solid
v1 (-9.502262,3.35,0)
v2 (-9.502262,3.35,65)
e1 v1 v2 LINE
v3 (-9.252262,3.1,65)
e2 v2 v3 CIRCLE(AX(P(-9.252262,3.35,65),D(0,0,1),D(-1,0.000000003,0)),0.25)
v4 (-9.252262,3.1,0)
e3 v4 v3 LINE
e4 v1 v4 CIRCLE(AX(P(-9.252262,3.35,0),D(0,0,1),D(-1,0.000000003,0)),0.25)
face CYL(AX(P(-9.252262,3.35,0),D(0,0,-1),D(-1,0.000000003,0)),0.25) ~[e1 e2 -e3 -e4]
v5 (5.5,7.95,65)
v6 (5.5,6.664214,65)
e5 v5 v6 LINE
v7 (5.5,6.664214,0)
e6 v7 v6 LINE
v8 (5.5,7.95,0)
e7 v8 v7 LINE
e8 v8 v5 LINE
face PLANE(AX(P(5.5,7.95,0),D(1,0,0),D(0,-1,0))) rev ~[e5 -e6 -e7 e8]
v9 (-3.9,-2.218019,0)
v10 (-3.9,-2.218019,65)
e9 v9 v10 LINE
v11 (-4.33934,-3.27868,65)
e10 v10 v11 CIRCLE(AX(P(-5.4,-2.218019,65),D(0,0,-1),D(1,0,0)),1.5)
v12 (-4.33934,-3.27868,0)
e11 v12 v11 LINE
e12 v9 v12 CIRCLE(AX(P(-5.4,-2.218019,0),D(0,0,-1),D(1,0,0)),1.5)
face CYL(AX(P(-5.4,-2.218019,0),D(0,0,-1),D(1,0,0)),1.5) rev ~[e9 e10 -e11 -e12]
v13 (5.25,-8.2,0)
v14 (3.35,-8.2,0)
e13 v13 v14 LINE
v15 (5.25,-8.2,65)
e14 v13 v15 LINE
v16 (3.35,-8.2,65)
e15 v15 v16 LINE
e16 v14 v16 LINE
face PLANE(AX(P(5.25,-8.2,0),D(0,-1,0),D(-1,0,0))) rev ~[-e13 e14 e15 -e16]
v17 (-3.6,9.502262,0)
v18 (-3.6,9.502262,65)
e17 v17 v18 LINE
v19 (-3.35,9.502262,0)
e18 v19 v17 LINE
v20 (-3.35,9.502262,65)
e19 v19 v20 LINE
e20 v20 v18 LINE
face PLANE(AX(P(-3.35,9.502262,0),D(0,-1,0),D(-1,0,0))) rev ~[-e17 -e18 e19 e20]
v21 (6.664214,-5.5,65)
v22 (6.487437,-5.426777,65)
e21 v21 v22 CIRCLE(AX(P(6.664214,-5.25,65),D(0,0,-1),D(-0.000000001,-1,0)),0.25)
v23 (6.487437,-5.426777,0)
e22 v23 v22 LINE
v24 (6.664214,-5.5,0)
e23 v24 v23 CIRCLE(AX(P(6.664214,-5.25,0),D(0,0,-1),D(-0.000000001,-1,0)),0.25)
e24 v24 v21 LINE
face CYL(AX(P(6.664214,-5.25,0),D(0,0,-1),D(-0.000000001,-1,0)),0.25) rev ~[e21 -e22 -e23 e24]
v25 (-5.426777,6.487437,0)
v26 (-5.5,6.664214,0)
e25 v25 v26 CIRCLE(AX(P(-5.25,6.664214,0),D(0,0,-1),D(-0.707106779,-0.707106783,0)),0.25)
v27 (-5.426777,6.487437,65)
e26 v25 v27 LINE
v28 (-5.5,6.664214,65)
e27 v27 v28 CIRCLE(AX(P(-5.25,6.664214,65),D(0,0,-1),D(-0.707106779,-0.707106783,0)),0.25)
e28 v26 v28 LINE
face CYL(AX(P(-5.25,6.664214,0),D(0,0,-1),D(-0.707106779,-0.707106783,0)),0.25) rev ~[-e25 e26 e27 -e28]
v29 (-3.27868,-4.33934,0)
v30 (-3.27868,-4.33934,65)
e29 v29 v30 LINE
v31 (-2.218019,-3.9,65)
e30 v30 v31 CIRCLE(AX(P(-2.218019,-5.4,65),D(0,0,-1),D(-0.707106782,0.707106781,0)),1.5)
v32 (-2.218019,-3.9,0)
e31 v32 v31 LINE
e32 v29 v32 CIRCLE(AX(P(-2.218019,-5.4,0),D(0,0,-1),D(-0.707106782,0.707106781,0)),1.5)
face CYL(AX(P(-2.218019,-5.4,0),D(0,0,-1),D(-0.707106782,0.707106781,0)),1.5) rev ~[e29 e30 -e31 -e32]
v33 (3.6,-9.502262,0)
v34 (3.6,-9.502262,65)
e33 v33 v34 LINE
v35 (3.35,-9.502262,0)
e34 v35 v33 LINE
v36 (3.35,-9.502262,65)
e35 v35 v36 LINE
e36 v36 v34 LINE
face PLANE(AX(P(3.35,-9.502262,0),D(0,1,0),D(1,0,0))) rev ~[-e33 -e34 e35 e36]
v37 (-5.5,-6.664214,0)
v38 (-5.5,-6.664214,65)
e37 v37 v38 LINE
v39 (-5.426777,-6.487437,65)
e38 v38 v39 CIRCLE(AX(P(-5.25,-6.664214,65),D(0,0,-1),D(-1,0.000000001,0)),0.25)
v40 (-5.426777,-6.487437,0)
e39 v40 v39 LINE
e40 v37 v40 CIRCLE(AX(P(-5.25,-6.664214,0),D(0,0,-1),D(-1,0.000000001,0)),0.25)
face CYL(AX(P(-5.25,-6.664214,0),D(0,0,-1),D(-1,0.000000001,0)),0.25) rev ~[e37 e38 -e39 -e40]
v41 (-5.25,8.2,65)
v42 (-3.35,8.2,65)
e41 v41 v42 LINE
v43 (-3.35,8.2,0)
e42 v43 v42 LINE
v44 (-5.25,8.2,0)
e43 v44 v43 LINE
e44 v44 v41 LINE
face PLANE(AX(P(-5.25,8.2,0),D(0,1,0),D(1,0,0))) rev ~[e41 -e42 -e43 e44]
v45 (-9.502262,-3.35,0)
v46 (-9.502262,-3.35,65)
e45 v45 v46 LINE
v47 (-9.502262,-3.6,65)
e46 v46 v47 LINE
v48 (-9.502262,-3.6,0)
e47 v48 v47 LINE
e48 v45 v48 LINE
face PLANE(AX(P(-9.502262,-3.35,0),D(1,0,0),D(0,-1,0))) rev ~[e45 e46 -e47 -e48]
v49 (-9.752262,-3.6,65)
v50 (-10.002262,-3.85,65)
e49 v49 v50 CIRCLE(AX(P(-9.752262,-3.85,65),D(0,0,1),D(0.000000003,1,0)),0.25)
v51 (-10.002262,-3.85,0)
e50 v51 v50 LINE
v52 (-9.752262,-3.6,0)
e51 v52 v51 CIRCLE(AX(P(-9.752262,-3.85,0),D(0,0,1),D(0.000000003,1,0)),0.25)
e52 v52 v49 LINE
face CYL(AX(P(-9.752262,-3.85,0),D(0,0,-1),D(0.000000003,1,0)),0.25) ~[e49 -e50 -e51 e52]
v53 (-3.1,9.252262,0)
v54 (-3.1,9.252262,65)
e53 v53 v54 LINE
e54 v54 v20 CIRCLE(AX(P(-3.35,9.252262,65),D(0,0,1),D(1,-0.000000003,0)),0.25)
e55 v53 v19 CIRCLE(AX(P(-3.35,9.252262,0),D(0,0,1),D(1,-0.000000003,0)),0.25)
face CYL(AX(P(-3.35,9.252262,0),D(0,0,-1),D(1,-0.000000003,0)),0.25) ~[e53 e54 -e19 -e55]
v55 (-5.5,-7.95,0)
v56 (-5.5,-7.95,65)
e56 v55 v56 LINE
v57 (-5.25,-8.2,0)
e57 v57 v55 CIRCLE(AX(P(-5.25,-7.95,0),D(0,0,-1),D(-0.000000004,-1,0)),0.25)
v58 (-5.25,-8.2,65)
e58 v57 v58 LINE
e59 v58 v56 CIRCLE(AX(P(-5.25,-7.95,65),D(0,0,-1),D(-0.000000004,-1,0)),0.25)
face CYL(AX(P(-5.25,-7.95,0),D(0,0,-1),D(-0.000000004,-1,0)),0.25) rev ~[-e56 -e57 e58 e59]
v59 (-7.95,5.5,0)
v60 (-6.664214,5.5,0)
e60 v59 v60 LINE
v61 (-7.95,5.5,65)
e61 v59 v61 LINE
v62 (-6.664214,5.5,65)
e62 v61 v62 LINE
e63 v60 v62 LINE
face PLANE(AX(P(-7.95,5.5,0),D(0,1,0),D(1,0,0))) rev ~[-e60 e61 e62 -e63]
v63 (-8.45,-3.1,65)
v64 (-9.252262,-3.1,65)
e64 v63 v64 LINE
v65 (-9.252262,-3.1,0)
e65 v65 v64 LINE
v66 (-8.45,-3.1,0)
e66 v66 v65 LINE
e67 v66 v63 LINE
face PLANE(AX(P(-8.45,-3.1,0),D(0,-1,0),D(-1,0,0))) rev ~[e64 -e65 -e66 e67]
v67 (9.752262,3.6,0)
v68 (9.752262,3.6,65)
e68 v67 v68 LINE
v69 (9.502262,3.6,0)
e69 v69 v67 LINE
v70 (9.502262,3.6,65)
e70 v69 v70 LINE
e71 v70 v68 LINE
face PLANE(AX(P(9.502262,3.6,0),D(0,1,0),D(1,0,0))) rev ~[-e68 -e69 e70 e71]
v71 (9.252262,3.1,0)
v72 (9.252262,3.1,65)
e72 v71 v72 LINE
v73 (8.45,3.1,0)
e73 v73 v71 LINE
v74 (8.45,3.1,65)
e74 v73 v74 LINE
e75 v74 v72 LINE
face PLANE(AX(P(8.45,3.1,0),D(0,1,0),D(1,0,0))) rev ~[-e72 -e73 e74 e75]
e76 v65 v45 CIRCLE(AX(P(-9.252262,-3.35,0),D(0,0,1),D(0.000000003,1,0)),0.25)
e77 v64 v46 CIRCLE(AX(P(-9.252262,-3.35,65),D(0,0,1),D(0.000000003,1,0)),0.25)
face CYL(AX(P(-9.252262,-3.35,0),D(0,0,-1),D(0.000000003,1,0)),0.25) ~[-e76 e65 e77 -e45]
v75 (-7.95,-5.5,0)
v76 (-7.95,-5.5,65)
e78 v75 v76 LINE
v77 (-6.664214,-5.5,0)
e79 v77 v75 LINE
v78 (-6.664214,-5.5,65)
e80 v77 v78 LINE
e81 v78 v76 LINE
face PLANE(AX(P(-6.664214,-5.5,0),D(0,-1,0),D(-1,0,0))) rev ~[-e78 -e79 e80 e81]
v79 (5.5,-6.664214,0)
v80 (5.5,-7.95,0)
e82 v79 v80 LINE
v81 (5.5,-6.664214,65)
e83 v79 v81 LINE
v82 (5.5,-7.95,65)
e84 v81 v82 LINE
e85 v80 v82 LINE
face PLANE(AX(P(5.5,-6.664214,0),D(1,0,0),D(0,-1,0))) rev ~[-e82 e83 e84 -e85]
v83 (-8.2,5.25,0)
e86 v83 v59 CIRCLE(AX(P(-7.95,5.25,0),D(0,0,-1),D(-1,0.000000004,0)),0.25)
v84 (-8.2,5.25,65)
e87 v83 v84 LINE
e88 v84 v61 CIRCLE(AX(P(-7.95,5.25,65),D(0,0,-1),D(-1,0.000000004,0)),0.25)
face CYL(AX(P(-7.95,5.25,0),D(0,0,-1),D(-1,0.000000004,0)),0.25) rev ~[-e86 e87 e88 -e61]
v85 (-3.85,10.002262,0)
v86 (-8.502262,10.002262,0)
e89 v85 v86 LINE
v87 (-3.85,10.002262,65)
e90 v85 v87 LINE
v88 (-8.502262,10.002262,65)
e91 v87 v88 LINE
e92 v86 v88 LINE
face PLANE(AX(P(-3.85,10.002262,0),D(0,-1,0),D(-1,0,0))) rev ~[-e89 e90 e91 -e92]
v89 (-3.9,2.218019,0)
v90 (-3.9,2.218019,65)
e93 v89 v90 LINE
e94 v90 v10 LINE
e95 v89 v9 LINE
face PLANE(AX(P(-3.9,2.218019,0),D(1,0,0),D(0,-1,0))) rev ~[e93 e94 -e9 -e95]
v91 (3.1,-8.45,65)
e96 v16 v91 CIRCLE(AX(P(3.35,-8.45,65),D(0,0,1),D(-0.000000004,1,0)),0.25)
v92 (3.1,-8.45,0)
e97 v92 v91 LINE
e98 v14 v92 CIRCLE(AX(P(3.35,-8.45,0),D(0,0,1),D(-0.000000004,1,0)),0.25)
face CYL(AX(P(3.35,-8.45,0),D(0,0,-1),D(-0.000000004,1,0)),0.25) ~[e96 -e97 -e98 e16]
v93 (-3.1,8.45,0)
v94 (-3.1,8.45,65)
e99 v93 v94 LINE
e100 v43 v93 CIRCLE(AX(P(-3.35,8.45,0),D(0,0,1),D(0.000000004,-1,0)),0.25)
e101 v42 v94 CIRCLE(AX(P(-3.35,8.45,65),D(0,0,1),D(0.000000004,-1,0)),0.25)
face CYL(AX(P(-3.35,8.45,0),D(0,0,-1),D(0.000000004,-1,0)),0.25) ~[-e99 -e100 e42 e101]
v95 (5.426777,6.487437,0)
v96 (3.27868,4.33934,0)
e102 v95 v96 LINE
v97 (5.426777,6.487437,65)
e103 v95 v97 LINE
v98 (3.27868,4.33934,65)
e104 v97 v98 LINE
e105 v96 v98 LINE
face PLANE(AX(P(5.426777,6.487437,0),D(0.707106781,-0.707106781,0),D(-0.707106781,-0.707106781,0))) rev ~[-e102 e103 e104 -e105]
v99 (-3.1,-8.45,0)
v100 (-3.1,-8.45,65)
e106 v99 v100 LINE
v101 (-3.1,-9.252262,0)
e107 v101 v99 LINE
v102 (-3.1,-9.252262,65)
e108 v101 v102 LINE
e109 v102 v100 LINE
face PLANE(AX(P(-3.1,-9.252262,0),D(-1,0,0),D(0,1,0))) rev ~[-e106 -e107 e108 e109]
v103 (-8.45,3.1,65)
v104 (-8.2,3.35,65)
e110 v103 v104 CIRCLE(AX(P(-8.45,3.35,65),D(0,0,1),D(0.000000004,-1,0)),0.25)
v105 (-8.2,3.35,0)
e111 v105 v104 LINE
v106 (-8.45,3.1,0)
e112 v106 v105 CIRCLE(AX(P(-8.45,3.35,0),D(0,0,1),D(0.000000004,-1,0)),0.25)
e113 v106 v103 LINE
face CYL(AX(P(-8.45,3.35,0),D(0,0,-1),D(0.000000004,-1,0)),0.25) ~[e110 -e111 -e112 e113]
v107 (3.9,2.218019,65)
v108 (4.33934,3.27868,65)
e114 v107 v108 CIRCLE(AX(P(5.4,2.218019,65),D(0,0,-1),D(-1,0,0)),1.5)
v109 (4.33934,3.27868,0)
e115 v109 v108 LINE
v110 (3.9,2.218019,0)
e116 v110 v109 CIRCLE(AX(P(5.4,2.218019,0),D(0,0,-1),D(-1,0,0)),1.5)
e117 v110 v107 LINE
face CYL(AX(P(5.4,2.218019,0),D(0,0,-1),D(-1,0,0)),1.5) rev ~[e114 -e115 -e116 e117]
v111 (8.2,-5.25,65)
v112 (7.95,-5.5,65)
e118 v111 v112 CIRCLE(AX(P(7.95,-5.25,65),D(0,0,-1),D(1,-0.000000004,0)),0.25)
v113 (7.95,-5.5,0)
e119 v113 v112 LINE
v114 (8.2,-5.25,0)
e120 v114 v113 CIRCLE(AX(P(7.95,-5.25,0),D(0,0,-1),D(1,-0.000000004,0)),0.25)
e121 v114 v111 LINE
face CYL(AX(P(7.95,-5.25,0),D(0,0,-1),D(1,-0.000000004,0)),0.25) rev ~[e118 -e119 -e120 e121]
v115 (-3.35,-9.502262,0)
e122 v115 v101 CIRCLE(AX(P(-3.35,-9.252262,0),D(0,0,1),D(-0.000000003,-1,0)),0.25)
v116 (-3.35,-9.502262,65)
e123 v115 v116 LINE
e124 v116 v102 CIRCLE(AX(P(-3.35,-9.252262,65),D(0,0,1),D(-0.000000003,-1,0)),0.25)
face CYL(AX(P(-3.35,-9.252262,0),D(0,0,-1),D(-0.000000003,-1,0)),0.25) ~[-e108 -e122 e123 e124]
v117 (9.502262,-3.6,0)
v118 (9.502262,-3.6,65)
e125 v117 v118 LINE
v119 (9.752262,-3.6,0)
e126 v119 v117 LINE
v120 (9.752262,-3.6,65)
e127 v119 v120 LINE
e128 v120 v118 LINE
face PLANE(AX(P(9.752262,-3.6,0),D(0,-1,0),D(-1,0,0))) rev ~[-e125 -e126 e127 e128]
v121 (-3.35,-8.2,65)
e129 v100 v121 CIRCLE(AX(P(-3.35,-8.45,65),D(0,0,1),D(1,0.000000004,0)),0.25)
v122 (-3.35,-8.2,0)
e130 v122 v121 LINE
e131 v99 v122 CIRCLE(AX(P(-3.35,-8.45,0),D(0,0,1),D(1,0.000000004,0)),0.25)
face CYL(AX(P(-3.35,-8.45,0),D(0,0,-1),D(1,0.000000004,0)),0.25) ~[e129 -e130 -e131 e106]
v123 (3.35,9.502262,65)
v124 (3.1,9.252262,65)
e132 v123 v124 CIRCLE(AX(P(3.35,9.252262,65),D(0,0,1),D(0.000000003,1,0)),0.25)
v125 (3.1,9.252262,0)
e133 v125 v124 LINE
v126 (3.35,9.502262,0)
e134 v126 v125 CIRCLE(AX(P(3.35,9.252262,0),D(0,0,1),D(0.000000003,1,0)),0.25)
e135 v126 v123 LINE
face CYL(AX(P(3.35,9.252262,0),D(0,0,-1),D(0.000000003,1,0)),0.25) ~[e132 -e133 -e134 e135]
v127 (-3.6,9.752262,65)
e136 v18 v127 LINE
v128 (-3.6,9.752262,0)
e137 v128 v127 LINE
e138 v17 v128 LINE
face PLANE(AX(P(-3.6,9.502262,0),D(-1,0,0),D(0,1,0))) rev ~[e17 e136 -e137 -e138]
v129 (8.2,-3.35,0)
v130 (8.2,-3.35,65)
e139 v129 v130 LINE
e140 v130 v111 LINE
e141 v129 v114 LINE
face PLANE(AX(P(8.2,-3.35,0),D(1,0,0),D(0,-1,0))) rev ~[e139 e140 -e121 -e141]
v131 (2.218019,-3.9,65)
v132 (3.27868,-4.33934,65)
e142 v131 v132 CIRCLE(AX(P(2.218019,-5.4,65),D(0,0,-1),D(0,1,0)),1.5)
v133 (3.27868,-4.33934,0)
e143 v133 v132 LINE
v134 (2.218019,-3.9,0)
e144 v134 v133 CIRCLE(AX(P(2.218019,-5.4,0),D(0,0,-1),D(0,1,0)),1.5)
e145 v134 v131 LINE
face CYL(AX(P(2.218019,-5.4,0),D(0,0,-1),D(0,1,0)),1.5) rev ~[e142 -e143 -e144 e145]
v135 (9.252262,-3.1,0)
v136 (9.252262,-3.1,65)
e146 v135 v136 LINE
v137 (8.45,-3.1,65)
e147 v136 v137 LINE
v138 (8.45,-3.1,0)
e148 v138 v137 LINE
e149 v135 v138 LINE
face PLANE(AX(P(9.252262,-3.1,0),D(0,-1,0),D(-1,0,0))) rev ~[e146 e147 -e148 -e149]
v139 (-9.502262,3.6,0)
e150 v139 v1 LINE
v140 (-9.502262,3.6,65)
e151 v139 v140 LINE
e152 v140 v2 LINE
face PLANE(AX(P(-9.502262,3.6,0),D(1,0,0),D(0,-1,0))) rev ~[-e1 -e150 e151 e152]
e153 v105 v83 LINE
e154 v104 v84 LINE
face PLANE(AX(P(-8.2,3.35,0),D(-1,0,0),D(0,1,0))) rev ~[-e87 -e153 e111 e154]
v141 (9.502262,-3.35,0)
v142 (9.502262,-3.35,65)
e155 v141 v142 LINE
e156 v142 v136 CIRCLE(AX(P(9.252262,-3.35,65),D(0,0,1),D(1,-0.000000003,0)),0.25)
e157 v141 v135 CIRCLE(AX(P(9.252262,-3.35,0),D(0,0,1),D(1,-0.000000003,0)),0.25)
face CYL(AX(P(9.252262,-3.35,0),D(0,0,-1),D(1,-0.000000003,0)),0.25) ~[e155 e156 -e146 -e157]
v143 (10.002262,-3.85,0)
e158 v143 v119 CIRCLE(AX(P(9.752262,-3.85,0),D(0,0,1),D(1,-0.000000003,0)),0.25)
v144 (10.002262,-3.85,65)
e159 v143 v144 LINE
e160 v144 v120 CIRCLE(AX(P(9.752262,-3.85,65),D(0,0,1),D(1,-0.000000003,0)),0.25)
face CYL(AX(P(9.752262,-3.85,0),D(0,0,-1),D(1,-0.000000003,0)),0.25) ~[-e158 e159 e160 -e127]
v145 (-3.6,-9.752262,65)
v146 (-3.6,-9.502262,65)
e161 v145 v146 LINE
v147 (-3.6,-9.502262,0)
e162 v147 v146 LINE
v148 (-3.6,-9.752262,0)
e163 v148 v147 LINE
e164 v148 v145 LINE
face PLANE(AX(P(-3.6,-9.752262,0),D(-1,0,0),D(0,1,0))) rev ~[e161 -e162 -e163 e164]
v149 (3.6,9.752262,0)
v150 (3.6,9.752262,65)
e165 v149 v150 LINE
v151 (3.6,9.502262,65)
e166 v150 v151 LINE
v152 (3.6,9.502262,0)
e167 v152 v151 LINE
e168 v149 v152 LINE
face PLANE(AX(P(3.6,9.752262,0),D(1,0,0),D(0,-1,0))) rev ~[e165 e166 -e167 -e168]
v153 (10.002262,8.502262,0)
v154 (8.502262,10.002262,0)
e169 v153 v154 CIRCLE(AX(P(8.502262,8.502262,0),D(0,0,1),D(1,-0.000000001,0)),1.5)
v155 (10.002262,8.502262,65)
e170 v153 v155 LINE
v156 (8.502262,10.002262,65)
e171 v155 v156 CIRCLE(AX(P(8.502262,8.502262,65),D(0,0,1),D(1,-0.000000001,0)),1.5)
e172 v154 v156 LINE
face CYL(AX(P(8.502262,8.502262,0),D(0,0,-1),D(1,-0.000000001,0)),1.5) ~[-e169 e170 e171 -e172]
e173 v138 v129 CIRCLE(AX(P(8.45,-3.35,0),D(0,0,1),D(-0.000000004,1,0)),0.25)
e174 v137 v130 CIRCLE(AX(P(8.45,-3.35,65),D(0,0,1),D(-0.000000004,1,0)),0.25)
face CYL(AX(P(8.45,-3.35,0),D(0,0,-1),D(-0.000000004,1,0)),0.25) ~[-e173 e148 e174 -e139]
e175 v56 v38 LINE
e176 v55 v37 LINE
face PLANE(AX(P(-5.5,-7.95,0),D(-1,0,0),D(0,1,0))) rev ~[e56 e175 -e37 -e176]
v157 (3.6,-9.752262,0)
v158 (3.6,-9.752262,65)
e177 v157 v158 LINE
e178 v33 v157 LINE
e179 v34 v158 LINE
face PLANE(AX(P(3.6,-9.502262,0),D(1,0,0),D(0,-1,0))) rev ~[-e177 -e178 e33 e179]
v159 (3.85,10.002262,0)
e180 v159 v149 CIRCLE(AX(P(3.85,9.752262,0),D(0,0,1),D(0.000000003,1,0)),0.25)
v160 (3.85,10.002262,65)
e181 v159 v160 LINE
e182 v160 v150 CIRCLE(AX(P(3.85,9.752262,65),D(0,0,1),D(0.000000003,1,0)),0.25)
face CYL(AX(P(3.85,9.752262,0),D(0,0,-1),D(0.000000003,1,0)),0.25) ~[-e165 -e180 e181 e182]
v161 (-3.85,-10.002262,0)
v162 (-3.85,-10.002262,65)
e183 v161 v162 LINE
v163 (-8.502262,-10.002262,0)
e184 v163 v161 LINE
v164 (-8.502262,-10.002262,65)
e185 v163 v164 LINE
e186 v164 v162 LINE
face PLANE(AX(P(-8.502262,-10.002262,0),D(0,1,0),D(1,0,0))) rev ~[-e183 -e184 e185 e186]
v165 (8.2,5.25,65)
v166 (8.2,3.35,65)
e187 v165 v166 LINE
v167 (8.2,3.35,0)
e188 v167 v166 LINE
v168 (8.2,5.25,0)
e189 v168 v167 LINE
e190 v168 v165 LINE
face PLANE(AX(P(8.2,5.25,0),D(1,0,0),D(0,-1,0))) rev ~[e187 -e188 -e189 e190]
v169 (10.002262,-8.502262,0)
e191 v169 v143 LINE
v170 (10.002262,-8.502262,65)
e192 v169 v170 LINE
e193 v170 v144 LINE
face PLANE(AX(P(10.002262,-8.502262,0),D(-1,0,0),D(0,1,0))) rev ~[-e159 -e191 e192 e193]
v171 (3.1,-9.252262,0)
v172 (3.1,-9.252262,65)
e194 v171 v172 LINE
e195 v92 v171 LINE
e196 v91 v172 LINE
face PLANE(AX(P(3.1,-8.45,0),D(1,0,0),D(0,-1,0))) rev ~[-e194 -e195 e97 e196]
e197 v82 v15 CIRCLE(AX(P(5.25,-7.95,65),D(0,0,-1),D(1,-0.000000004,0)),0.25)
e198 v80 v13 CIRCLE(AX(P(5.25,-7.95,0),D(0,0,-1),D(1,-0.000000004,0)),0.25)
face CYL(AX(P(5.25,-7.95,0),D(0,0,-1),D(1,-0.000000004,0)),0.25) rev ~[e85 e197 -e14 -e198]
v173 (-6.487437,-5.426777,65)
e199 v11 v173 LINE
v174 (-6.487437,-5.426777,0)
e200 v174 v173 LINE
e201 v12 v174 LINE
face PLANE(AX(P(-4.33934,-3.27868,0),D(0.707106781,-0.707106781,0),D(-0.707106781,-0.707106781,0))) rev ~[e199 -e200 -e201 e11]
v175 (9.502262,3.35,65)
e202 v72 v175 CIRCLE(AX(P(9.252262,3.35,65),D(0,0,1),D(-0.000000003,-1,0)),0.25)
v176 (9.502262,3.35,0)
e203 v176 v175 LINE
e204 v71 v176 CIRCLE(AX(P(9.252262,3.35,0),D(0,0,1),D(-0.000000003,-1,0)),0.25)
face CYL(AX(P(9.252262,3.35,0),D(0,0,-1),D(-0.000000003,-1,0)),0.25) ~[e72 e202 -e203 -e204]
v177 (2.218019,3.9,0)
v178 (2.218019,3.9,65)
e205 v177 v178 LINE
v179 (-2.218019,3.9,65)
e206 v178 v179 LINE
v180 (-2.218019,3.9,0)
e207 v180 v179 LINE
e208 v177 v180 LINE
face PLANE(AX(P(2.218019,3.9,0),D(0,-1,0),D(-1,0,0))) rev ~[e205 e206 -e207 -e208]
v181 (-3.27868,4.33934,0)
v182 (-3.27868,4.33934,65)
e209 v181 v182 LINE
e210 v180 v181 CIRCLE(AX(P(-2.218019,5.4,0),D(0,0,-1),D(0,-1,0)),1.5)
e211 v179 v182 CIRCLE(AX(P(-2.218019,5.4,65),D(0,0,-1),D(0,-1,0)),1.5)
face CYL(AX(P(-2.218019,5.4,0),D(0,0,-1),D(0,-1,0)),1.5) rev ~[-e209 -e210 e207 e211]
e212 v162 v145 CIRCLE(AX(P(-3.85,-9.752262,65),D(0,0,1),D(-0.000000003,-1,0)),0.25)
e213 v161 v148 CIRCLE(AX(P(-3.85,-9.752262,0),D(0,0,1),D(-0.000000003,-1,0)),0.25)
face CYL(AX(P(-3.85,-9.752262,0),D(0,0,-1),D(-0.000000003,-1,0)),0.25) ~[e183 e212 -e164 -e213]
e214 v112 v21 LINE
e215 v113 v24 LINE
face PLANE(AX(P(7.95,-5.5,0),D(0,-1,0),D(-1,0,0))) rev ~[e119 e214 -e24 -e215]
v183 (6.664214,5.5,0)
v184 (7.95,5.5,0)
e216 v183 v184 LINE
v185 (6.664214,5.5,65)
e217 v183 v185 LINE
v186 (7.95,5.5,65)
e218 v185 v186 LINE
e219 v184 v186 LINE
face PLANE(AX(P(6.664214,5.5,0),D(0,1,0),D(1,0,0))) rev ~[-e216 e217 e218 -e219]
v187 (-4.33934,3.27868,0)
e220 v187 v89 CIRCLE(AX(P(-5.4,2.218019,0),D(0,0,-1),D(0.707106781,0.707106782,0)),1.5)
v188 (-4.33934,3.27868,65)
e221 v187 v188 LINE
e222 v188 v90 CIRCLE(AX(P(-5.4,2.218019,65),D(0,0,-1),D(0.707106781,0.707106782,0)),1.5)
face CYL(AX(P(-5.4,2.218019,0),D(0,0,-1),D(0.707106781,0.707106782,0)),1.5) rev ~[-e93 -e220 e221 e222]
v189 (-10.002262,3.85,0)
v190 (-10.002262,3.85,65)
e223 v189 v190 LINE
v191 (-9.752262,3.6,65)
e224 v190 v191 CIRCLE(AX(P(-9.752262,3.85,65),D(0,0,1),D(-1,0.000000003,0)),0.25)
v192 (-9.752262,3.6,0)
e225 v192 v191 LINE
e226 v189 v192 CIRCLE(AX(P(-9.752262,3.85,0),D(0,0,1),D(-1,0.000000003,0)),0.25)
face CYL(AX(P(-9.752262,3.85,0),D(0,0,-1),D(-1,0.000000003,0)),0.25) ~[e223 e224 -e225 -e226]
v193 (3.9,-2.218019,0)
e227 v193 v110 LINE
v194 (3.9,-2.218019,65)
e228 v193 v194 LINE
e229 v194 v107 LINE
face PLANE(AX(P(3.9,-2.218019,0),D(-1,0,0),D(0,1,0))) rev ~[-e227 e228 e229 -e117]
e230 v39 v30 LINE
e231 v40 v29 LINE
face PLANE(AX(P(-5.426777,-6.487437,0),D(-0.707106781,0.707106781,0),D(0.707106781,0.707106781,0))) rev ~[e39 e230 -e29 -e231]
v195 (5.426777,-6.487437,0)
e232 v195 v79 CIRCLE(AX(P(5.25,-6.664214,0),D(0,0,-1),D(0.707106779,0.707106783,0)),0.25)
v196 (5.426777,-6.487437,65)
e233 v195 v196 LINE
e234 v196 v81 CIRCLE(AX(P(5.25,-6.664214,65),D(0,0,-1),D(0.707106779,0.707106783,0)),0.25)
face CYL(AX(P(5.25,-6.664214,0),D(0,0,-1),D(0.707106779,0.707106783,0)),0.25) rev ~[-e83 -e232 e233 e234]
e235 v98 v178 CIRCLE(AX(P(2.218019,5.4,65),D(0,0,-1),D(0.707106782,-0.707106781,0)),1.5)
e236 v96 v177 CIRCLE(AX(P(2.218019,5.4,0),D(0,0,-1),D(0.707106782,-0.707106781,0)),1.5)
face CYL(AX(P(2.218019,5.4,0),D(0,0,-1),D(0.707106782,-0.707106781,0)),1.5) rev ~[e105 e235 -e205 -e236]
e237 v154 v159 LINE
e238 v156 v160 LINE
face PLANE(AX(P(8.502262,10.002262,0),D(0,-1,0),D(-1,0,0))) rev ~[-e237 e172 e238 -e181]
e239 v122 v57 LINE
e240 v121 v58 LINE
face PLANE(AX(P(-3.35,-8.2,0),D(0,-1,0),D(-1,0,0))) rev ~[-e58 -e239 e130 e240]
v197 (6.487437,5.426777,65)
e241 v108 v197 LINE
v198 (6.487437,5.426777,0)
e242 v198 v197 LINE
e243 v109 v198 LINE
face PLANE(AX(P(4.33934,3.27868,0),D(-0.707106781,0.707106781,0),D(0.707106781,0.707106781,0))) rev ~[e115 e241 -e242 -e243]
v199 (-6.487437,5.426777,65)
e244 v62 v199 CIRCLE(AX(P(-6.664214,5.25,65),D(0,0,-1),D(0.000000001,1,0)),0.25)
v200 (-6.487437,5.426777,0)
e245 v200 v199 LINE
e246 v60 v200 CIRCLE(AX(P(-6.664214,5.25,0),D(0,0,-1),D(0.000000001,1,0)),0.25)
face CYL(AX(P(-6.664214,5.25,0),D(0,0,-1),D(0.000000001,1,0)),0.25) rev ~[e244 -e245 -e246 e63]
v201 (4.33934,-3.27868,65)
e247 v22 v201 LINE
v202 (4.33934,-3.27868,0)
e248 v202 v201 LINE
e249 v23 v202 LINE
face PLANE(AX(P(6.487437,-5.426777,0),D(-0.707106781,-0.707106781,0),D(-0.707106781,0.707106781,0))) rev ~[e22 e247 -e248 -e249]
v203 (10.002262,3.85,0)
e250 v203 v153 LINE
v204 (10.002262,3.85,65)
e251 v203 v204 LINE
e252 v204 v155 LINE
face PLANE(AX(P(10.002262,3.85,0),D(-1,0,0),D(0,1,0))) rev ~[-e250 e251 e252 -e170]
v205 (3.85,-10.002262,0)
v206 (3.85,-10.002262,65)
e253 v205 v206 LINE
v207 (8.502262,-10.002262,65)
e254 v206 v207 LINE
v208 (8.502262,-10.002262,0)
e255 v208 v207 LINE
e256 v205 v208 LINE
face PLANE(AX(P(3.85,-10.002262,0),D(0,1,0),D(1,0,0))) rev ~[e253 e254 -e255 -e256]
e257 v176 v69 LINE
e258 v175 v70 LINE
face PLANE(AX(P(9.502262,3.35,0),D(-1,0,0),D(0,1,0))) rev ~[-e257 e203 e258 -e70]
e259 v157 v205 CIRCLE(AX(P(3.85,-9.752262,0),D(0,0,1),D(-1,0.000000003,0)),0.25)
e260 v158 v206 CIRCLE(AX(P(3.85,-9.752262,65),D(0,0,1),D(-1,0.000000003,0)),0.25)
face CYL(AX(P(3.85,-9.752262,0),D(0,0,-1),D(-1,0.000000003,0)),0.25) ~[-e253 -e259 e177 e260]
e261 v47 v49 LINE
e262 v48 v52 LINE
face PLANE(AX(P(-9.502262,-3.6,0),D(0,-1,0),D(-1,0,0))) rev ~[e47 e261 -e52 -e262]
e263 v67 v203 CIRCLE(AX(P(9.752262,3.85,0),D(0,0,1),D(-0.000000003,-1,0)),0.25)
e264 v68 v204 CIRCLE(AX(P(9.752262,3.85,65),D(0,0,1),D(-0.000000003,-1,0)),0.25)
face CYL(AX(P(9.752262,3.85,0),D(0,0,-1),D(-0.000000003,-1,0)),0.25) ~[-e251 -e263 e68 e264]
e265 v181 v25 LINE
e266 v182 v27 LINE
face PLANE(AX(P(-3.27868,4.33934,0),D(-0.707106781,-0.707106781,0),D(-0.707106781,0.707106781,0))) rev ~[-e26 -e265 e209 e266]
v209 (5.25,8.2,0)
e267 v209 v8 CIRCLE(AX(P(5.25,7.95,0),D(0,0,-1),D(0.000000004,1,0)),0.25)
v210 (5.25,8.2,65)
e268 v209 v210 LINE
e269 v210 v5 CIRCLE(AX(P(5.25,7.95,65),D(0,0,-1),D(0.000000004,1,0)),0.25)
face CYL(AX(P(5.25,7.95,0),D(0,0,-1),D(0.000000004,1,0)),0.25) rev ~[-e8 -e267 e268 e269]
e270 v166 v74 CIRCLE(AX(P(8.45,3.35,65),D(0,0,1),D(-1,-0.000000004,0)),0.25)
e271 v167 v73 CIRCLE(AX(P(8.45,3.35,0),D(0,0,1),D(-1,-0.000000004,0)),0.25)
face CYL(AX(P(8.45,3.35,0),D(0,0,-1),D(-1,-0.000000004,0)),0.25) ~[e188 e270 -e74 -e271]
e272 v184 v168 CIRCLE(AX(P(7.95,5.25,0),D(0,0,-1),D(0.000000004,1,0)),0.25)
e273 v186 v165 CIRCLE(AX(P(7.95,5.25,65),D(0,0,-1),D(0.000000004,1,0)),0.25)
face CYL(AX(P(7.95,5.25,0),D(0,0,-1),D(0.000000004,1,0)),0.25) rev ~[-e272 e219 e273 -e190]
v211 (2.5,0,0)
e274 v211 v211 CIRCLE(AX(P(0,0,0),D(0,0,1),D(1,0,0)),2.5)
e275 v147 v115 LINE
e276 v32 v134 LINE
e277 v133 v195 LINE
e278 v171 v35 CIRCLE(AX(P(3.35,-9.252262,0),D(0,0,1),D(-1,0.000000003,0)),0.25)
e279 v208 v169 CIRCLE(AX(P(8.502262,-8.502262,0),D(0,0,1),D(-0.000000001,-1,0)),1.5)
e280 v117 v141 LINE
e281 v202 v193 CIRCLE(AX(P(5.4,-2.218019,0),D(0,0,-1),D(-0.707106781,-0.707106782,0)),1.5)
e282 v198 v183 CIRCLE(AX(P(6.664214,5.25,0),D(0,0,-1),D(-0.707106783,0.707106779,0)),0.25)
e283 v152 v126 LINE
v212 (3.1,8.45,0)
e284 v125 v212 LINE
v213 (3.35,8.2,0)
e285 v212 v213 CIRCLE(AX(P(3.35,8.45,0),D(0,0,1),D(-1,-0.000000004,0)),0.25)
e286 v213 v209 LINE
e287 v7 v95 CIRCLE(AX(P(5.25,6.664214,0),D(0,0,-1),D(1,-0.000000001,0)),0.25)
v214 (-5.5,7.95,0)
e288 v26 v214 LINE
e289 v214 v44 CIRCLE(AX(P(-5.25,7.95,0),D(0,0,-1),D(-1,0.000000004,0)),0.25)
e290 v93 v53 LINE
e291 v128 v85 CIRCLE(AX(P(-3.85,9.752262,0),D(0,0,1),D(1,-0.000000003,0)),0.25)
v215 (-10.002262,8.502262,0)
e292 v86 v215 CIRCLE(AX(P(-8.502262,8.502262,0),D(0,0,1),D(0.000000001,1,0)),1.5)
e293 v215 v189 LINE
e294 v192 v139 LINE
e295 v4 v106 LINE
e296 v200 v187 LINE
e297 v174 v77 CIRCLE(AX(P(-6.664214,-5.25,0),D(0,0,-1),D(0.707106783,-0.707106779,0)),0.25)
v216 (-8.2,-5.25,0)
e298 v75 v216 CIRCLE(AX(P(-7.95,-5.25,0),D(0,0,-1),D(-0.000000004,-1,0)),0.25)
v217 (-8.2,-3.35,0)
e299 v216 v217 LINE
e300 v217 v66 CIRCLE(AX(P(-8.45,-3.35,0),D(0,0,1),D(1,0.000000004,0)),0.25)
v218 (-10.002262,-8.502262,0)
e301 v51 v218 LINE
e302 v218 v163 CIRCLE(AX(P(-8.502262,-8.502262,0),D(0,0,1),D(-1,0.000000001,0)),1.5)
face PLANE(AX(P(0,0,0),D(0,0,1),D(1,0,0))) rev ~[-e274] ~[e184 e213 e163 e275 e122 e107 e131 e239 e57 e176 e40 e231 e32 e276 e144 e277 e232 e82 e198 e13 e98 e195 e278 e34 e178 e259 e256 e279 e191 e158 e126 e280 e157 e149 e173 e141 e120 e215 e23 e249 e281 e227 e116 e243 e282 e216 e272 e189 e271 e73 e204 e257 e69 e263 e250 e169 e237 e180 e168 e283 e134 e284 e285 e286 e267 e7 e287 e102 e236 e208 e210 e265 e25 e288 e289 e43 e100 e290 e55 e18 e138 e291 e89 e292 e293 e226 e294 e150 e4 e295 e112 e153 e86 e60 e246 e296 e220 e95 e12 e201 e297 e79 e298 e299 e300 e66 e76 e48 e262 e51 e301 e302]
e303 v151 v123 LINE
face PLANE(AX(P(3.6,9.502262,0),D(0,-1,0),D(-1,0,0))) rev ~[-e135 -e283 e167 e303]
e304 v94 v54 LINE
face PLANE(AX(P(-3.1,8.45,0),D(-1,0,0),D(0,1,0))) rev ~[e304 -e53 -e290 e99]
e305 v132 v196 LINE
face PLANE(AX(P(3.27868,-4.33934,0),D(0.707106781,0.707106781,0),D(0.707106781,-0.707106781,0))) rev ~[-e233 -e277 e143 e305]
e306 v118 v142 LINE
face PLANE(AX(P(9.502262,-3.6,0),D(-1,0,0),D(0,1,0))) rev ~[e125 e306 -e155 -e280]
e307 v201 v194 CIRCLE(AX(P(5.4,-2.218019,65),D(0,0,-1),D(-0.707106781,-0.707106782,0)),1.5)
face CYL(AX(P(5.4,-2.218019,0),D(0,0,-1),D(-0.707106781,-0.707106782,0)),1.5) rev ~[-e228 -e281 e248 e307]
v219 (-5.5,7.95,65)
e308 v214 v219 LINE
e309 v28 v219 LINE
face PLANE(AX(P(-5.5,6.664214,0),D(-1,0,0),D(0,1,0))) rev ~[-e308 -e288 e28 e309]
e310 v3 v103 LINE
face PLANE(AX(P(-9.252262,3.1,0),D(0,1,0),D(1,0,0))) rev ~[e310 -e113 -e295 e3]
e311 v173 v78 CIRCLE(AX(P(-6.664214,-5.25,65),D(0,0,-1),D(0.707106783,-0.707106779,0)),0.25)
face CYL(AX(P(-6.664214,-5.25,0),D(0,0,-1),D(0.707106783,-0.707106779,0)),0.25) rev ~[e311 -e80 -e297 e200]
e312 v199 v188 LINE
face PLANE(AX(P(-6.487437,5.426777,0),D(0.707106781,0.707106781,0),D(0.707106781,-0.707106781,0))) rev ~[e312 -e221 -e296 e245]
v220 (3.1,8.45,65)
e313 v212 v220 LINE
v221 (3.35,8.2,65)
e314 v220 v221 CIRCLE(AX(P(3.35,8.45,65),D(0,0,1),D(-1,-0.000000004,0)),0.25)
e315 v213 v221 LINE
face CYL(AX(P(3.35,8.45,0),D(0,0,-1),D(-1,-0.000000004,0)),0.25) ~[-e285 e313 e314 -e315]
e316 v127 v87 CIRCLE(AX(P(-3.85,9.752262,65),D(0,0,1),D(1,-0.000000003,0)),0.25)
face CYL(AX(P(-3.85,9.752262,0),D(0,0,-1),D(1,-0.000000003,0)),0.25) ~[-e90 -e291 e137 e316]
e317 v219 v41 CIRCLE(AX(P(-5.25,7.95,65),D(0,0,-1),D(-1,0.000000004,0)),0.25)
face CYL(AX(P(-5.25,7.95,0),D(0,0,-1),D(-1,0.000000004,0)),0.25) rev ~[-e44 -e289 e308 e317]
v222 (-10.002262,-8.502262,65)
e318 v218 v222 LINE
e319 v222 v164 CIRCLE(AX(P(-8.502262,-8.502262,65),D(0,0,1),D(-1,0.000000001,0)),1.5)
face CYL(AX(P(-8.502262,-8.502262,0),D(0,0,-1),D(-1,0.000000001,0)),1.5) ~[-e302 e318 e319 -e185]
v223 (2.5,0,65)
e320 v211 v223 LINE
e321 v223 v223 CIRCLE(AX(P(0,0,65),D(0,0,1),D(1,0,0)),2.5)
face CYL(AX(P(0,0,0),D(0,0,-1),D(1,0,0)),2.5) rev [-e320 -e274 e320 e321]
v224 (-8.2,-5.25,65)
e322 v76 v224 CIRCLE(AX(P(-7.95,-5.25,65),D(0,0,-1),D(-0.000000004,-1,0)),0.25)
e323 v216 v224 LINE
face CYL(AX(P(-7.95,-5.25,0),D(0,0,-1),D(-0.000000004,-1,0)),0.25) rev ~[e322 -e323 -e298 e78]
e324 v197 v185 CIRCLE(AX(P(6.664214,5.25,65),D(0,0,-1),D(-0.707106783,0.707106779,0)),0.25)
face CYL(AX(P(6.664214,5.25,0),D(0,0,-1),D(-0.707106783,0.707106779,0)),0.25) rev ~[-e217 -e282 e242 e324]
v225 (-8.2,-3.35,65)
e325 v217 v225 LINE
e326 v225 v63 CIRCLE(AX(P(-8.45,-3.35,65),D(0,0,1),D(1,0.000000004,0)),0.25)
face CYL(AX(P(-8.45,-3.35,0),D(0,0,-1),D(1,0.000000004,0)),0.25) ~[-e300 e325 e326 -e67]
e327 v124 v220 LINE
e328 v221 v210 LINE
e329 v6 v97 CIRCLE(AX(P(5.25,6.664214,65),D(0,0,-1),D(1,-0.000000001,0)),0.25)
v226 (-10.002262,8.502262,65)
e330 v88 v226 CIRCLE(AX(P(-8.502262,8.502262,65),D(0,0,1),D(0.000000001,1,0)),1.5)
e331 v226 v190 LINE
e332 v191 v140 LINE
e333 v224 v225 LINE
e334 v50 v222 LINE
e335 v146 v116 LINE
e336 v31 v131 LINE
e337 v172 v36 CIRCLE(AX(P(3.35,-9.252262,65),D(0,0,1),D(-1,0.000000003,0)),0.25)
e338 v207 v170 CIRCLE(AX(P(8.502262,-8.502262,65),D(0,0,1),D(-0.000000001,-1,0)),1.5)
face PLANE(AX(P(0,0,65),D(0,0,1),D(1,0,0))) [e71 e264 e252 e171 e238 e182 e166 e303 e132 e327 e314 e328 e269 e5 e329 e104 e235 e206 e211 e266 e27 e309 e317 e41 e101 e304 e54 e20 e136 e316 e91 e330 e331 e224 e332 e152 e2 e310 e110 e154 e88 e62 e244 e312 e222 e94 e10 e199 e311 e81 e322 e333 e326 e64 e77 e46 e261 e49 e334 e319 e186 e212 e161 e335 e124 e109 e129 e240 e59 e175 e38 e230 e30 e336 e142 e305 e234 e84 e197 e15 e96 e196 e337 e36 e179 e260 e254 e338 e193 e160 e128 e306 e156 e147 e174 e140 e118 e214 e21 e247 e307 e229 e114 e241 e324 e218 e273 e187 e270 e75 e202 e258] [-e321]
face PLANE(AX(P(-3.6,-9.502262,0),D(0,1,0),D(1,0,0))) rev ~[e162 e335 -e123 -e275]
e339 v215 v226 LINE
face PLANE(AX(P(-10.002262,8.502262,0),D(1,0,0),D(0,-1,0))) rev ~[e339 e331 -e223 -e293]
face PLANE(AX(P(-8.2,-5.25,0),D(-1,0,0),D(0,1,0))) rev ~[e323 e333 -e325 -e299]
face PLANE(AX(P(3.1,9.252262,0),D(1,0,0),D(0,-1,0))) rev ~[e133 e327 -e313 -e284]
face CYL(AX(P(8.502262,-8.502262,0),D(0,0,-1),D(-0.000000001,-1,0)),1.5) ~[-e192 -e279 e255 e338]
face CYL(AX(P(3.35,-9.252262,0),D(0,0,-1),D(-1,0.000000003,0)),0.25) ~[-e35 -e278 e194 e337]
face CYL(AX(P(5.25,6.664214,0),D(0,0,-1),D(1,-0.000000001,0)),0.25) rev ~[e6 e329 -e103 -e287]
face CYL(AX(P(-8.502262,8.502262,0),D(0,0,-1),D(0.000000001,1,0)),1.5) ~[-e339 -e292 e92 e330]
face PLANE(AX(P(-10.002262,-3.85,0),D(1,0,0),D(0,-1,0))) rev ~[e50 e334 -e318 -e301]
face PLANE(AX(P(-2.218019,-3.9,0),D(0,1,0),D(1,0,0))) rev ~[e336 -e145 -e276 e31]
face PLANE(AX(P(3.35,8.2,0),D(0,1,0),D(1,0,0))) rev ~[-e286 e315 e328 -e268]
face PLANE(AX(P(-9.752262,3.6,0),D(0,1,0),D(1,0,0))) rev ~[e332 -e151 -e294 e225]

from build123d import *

# Parameters (mm, degrees)
SKETCH_1_R      = 2.5
EXTRUDE_1_DEPTH = 65


with BuildPart() as part:
    # 草图1 → 凸台-拉伸1 (new body)
    with BuildSketch(Plane.XY):
        with BuildLine():
            Line((-8.502261885, -10.002261885), (-3.85, -10.002261885))
            ThreePointArc((-3.85, -10.002261885), (-3.673223305, -9.929038581), (-3.6, -9.752261885))
            Line((-3.6, -9.752261885), (-3.6, -9.502261885))
            Line((-3.6, -9.502261885), (-3.35, -9.502261885))
            ThreePointArc((-3.35, -9.502261885), (-3.173223305, -9.429038581), (-3.1, -9.252261885))
            Line((-3.1, -9.252261885), (-3.1, -8.45))
            ThreePointArc((-3.1, -8.45), (-3.173223305, -8.273223305), (-3.35, -8.2))
            Line((-3.35, -8.2), (-5.25, -8.2))
            ThreePointArc((-5.25, -8.2), (-5.426776695, -8.126776695), (-5.5, -7.95))
            Line((-5.5, -7.95), (-5.5, -6.664213562))
            ThreePointArc((-5.5, -6.664213562), (-5.480969883, -6.568542704), (-5.426776695, -6.487436867))
            Line((-5.426776695, -6.487436867), (-3.278679656, -4.339339828))
            ThreePointArc((-3.278679656, -4.339339828), (-2.792044633, -4.014180701), (-2.218019485, -3.9))
            Line((-2.218019485, -3.9), (2.218019485, -3.9))
            ThreePointArc((2.218019485, -3.9), (2.792044633, -4.014180701), (3.278679656, -4.339339828))
            Line((3.278679656, -4.339339828), (5.426776695, -6.487436867))
            ThreePointArc((5.426776695, -6.487436867), (5.480969883, -6.568542704), (5.5, -6.664213562))
            Line((5.5, -6.664213562), (5.5, -7.95))
            ThreePointArc((5.5, -7.95), (5.426776695, -8.126776695), (5.25, -8.2))
            Line((5.25, -8.2), (3.35, -8.2))
            ThreePointArc((3.35, -8.2), (3.173223305, -8.273223305), (3.1, -8.45))
            Line((3.1, -8.45), (3.1, -9.252261885))
            ThreePointArc((3.1, -9.252261885), (3.173223305, -9.429038581), (3.35, -9.502261885))
            Line((3.35, -9.502261885), (3.6, -9.502261885))
            Line((3.6, -9.502261885), (3.6, -9.752261885))
            ThreePointArc((3.6, -9.752261885), (3.673223305, -9.929038581), (3.85, -10.002261885))
            Line((3.85, -10.002261885), (8.502261885, -10.002261885))
            ThreePointArc((8.502261885, -10.002261885), (9.562922057, -9.562922057), (10.002261885, -8.502261885))
            Line((10.002261885, -8.502261885), (10.002261885, -3.85))
            ThreePointArc((10.002261885, -3.85), (9.929038581, -3.673223305), (9.752261885, -3.6))
            Line((9.752261885, -3.6), (9.502261885, -3.6))
            Line((9.502261885, -3.6), (9.502261885, -3.35))
            ThreePointArc((9.502261885, -3.35), (9.429038581, -3.173223305), (9.252261885, -3.1))
            Line((9.252261885, -3.1), (8.45, -3.1))
            ThreePointArc((8.45, -3.1), (8.273223305, -3.173223305), (8.2, -3.35))
            Line((8.2, -3.35), (8.2, -5.25))
            ThreePointArc((8.2, -5.25), (8.126776695, -5.426776695), (7.95, -5.5))
            Line((7.95, -5.5), (6.664213562, -5.5))
            ThreePointArc((6.664213562, -5.5), (6.568542704, -5.480969883), (6.487436867, -5.426776695))
            Line((6.487436867, -5.426776695), (4.339339828, -3.278679656))
            ThreePointArc((4.339339828, -3.278679656), (4.014180701, -2.792044633), (3.9, -2.218019485))
            Line((3.9, -2.218019485), (3.9, 2.218019485))
            ThreePointArc((3.9, 2.218019485), (4.014180701, 2.792044633), (4.339339828, 3.278679656))
            Line((4.339339828, 3.278679656), (6.487436867, 5.426776695))
            ThreePointArc((6.487436867, 5.426776695), (6.568542704, 5.480969883), (6.664213562, 5.5))
            Line((6.664213562, 5.5), (7.95, 5.5))
            ThreePointArc((7.95, 5.5), (8.126776695, 5.426776695), (8.2, 5.25))
            Line((8.2, 5.25), (8.2, 3.35))
            ThreePointArc((8.2, 3.35), (8.273223305, 3.173223305), (8.45, 3.1))
            Line((8.45, 3.1), (9.252261885, 3.1))
            ThreePointArc((9.252261885, 3.1), (9.429038581, 3.173223305), (9.502261885, 3.35))
            Line((9.502261885, 3.35), (9.502261885, 3.6))
            Line((9.502261885, 3.6), (9.752261885, 3.6))
            ThreePointArc((9.752261885, 3.6), (9.929038581, 3.673223305), (10.002261885, 3.85))
            Line((10.002261885, 3.85), (10.002261885, 8.502261885))
            ThreePointArc((10.002261885, 8.502261885), (9.562922057, 9.562922057), (8.502261885, 10.002261885))
            Line((8.502261885, 10.002261885), (3.85, 10.002261885))
            ThreePointArc((3.85, 10.002261885), (3.673223305, 9.929038581), (3.6, 9.752261885))
            Line((3.6, 9.752261885), (3.6, 9.502261885))
            Line((3.6, 9.502261885), (3.35, 9.502261885))
            ThreePointArc((3.35, 9.502261885), (3.173223305, 9.429038581), (3.1, 9.252261885))
            Line((3.1, 9.252261885), (3.1, 8.45))
            ThreePointArc((3.1, 8.45), (3.173223305, 8.273223305), (3.35, 8.2))
            Line((3.35, 8.2), (5.25, 8.2))
            ThreePointArc((5.25, 8.2), (5.426776695, 8.126776695), (5.5, 7.95))
            Line((5.5, 7.95), (5.5, 6.664213562))
            ThreePointArc((5.5, 6.664213562), (5.480969883, 6.568542704), (5.426776695, 6.487436867))
            Line((5.426776695, 6.487436867), (3.278679656, 4.339339828))
            ThreePointArc((3.278679656, 4.339339828), (2.792044633, 4.014180701), (2.218019485, 3.9))
            Line((2.218019485, 3.9), (-2.218019485, 3.9))
            ThreePointArc((-2.218019485, 3.9), (-2.792044633, 4.014180701), (-3.278679656, 4.339339828))
            Line((-3.278679656, 4.339339828), (-5.426776695, 6.487436867))
            ThreePointArc((-5.426776695, 6.487436867), (-5.480969883, 6.568542704), (-5.5, 6.664213562))
            Line((-5.5, 6.664213562), (-5.5, 7.95))
            ThreePointArc((-5.5, 7.95), (-5.426776695, 8.126776695), (-5.25, 8.2))
            Line((-5.25, 8.2), (-3.35, 8.2))
            ThreePointArc((-3.35, 8.2), (-3.173223305, 8.273223305), (-3.1, 8.45))
            Line((-3.1, 8.45), (-3.1, 9.252261885))
            ThreePointArc((-3.1, 9.252261885), (-3.173223305, 9.429038581), (-3.35, 9.502261885))
            Line((-3.35, 9.502261885), (-3.6, 9.502261885))
            Line((-3.6, 9.502261885), (-3.6, 9.752261885))
            ThreePointArc((-3.6, 9.752261885), (-3.673223305, 9.929038581), (-3.85, 10.002261885))
            Line((-3.85, 10.002261885), (-8.502261885, 10.002261885))
            ThreePointArc((-8.502261885, 10.002261885), (-9.562922057, 9.562922057), (-10.002261885, 8.502261885))
            Line((-10.002261885, 8.502261885), (-10.002261885, 3.85))
            ThreePointArc((-10.002261885, 3.85), (-9.929038581, 3.673223305), (-9.752261885, 3.6))
            Line((-9.752261885, 3.6), (-9.502261885, 3.6))
            Line((-9.502261885, 3.6), (-9.502261885, 3.35))
            ThreePointArc((-9.502261885, 3.35), (-9.429038581, 3.173223305), (-9.252261885, 3.1))
            Line((-9.252261885, 3.1), (-8.45, 3.1))
            ThreePointArc((-8.45, 3.1), (-8.273223305, 3.173223305), (-8.2, 3.35))
            Line((-8.2, 3.35), (-8.2, 5.25))
            ThreePointArc((-8.2, 5.25), (-8.126776695, 5.426776695), (-7.95, 5.5))
            Line((-7.95, 5.5), (-6.664213562, 5.5))
            ThreePointArc((-6.664213562, 5.5), (-6.568542704, 5.480969883), (-6.487436867, 5.426776695))
            Line((-6.487436867, 5.426776695), (-4.339339828, 3.278679656))
            ThreePointArc((-4.339339828, 3.278679656), (-4.014180701, 2.792044633), (-3.9, 2.218019485))
            Line((-3.9, 2.218019485), (-3.9, -2.218019485))
            ThreePointArc((-3.9, -2.218019485), (-4.014180701, -2.792044633), (-4.339339828, -3.278679656))
            Line((-4.339339828, -3.278679656), (-6.487436867, -5.426776695))
            ThreePointArc((-6.487436867, -5.426776695), (-6.568542704, -5.480969883), (-6.664213562, -5.5))
            Line((-6.664213562, -5.5), (-7.95, -5.5))
            ThreePointArc((-7.95, -5.5), (-8.126776695, -5.426776695), (-8.2, -5.25))
            Line((-8.2, -5.25), (-8.2, -3.35))
            ThreePointArc((-8.2, -3.35), (-8.273223305, -3.173223305), (-8.45, -3.1))
            Line((-8.45, -3.1), (-9.252261885, -3.1))
            ThreePointArc((-9.252261885, -3.1), (-9.429038581, -3.173223305), (-9.502261885, -3.35))
            Line((-9.502261885, -3.35), (-9.502261885, -3.6))
            Line((-9.502261885, -3.6), (-9.752261885, -3.6))
            ThreePointArc((-9.752261885, -3.6), (-9.929038581, -3.673223305), (-10.002261885, -3.85))
            Line((-10.002261885, -3.85), (-10.002261885, -8.502261885))
            ThreePointArc((-10.002261885, -8.502261885), (-9.562922057, -9.562922057), (-8.502261885, -10.002261885))
        make_face()
        Circle(SKETCH_1_R, mode=Mode.SUBTRACT)
    extrude(amount=EXTRUDE_1_DEPTH)


solid = part.part
